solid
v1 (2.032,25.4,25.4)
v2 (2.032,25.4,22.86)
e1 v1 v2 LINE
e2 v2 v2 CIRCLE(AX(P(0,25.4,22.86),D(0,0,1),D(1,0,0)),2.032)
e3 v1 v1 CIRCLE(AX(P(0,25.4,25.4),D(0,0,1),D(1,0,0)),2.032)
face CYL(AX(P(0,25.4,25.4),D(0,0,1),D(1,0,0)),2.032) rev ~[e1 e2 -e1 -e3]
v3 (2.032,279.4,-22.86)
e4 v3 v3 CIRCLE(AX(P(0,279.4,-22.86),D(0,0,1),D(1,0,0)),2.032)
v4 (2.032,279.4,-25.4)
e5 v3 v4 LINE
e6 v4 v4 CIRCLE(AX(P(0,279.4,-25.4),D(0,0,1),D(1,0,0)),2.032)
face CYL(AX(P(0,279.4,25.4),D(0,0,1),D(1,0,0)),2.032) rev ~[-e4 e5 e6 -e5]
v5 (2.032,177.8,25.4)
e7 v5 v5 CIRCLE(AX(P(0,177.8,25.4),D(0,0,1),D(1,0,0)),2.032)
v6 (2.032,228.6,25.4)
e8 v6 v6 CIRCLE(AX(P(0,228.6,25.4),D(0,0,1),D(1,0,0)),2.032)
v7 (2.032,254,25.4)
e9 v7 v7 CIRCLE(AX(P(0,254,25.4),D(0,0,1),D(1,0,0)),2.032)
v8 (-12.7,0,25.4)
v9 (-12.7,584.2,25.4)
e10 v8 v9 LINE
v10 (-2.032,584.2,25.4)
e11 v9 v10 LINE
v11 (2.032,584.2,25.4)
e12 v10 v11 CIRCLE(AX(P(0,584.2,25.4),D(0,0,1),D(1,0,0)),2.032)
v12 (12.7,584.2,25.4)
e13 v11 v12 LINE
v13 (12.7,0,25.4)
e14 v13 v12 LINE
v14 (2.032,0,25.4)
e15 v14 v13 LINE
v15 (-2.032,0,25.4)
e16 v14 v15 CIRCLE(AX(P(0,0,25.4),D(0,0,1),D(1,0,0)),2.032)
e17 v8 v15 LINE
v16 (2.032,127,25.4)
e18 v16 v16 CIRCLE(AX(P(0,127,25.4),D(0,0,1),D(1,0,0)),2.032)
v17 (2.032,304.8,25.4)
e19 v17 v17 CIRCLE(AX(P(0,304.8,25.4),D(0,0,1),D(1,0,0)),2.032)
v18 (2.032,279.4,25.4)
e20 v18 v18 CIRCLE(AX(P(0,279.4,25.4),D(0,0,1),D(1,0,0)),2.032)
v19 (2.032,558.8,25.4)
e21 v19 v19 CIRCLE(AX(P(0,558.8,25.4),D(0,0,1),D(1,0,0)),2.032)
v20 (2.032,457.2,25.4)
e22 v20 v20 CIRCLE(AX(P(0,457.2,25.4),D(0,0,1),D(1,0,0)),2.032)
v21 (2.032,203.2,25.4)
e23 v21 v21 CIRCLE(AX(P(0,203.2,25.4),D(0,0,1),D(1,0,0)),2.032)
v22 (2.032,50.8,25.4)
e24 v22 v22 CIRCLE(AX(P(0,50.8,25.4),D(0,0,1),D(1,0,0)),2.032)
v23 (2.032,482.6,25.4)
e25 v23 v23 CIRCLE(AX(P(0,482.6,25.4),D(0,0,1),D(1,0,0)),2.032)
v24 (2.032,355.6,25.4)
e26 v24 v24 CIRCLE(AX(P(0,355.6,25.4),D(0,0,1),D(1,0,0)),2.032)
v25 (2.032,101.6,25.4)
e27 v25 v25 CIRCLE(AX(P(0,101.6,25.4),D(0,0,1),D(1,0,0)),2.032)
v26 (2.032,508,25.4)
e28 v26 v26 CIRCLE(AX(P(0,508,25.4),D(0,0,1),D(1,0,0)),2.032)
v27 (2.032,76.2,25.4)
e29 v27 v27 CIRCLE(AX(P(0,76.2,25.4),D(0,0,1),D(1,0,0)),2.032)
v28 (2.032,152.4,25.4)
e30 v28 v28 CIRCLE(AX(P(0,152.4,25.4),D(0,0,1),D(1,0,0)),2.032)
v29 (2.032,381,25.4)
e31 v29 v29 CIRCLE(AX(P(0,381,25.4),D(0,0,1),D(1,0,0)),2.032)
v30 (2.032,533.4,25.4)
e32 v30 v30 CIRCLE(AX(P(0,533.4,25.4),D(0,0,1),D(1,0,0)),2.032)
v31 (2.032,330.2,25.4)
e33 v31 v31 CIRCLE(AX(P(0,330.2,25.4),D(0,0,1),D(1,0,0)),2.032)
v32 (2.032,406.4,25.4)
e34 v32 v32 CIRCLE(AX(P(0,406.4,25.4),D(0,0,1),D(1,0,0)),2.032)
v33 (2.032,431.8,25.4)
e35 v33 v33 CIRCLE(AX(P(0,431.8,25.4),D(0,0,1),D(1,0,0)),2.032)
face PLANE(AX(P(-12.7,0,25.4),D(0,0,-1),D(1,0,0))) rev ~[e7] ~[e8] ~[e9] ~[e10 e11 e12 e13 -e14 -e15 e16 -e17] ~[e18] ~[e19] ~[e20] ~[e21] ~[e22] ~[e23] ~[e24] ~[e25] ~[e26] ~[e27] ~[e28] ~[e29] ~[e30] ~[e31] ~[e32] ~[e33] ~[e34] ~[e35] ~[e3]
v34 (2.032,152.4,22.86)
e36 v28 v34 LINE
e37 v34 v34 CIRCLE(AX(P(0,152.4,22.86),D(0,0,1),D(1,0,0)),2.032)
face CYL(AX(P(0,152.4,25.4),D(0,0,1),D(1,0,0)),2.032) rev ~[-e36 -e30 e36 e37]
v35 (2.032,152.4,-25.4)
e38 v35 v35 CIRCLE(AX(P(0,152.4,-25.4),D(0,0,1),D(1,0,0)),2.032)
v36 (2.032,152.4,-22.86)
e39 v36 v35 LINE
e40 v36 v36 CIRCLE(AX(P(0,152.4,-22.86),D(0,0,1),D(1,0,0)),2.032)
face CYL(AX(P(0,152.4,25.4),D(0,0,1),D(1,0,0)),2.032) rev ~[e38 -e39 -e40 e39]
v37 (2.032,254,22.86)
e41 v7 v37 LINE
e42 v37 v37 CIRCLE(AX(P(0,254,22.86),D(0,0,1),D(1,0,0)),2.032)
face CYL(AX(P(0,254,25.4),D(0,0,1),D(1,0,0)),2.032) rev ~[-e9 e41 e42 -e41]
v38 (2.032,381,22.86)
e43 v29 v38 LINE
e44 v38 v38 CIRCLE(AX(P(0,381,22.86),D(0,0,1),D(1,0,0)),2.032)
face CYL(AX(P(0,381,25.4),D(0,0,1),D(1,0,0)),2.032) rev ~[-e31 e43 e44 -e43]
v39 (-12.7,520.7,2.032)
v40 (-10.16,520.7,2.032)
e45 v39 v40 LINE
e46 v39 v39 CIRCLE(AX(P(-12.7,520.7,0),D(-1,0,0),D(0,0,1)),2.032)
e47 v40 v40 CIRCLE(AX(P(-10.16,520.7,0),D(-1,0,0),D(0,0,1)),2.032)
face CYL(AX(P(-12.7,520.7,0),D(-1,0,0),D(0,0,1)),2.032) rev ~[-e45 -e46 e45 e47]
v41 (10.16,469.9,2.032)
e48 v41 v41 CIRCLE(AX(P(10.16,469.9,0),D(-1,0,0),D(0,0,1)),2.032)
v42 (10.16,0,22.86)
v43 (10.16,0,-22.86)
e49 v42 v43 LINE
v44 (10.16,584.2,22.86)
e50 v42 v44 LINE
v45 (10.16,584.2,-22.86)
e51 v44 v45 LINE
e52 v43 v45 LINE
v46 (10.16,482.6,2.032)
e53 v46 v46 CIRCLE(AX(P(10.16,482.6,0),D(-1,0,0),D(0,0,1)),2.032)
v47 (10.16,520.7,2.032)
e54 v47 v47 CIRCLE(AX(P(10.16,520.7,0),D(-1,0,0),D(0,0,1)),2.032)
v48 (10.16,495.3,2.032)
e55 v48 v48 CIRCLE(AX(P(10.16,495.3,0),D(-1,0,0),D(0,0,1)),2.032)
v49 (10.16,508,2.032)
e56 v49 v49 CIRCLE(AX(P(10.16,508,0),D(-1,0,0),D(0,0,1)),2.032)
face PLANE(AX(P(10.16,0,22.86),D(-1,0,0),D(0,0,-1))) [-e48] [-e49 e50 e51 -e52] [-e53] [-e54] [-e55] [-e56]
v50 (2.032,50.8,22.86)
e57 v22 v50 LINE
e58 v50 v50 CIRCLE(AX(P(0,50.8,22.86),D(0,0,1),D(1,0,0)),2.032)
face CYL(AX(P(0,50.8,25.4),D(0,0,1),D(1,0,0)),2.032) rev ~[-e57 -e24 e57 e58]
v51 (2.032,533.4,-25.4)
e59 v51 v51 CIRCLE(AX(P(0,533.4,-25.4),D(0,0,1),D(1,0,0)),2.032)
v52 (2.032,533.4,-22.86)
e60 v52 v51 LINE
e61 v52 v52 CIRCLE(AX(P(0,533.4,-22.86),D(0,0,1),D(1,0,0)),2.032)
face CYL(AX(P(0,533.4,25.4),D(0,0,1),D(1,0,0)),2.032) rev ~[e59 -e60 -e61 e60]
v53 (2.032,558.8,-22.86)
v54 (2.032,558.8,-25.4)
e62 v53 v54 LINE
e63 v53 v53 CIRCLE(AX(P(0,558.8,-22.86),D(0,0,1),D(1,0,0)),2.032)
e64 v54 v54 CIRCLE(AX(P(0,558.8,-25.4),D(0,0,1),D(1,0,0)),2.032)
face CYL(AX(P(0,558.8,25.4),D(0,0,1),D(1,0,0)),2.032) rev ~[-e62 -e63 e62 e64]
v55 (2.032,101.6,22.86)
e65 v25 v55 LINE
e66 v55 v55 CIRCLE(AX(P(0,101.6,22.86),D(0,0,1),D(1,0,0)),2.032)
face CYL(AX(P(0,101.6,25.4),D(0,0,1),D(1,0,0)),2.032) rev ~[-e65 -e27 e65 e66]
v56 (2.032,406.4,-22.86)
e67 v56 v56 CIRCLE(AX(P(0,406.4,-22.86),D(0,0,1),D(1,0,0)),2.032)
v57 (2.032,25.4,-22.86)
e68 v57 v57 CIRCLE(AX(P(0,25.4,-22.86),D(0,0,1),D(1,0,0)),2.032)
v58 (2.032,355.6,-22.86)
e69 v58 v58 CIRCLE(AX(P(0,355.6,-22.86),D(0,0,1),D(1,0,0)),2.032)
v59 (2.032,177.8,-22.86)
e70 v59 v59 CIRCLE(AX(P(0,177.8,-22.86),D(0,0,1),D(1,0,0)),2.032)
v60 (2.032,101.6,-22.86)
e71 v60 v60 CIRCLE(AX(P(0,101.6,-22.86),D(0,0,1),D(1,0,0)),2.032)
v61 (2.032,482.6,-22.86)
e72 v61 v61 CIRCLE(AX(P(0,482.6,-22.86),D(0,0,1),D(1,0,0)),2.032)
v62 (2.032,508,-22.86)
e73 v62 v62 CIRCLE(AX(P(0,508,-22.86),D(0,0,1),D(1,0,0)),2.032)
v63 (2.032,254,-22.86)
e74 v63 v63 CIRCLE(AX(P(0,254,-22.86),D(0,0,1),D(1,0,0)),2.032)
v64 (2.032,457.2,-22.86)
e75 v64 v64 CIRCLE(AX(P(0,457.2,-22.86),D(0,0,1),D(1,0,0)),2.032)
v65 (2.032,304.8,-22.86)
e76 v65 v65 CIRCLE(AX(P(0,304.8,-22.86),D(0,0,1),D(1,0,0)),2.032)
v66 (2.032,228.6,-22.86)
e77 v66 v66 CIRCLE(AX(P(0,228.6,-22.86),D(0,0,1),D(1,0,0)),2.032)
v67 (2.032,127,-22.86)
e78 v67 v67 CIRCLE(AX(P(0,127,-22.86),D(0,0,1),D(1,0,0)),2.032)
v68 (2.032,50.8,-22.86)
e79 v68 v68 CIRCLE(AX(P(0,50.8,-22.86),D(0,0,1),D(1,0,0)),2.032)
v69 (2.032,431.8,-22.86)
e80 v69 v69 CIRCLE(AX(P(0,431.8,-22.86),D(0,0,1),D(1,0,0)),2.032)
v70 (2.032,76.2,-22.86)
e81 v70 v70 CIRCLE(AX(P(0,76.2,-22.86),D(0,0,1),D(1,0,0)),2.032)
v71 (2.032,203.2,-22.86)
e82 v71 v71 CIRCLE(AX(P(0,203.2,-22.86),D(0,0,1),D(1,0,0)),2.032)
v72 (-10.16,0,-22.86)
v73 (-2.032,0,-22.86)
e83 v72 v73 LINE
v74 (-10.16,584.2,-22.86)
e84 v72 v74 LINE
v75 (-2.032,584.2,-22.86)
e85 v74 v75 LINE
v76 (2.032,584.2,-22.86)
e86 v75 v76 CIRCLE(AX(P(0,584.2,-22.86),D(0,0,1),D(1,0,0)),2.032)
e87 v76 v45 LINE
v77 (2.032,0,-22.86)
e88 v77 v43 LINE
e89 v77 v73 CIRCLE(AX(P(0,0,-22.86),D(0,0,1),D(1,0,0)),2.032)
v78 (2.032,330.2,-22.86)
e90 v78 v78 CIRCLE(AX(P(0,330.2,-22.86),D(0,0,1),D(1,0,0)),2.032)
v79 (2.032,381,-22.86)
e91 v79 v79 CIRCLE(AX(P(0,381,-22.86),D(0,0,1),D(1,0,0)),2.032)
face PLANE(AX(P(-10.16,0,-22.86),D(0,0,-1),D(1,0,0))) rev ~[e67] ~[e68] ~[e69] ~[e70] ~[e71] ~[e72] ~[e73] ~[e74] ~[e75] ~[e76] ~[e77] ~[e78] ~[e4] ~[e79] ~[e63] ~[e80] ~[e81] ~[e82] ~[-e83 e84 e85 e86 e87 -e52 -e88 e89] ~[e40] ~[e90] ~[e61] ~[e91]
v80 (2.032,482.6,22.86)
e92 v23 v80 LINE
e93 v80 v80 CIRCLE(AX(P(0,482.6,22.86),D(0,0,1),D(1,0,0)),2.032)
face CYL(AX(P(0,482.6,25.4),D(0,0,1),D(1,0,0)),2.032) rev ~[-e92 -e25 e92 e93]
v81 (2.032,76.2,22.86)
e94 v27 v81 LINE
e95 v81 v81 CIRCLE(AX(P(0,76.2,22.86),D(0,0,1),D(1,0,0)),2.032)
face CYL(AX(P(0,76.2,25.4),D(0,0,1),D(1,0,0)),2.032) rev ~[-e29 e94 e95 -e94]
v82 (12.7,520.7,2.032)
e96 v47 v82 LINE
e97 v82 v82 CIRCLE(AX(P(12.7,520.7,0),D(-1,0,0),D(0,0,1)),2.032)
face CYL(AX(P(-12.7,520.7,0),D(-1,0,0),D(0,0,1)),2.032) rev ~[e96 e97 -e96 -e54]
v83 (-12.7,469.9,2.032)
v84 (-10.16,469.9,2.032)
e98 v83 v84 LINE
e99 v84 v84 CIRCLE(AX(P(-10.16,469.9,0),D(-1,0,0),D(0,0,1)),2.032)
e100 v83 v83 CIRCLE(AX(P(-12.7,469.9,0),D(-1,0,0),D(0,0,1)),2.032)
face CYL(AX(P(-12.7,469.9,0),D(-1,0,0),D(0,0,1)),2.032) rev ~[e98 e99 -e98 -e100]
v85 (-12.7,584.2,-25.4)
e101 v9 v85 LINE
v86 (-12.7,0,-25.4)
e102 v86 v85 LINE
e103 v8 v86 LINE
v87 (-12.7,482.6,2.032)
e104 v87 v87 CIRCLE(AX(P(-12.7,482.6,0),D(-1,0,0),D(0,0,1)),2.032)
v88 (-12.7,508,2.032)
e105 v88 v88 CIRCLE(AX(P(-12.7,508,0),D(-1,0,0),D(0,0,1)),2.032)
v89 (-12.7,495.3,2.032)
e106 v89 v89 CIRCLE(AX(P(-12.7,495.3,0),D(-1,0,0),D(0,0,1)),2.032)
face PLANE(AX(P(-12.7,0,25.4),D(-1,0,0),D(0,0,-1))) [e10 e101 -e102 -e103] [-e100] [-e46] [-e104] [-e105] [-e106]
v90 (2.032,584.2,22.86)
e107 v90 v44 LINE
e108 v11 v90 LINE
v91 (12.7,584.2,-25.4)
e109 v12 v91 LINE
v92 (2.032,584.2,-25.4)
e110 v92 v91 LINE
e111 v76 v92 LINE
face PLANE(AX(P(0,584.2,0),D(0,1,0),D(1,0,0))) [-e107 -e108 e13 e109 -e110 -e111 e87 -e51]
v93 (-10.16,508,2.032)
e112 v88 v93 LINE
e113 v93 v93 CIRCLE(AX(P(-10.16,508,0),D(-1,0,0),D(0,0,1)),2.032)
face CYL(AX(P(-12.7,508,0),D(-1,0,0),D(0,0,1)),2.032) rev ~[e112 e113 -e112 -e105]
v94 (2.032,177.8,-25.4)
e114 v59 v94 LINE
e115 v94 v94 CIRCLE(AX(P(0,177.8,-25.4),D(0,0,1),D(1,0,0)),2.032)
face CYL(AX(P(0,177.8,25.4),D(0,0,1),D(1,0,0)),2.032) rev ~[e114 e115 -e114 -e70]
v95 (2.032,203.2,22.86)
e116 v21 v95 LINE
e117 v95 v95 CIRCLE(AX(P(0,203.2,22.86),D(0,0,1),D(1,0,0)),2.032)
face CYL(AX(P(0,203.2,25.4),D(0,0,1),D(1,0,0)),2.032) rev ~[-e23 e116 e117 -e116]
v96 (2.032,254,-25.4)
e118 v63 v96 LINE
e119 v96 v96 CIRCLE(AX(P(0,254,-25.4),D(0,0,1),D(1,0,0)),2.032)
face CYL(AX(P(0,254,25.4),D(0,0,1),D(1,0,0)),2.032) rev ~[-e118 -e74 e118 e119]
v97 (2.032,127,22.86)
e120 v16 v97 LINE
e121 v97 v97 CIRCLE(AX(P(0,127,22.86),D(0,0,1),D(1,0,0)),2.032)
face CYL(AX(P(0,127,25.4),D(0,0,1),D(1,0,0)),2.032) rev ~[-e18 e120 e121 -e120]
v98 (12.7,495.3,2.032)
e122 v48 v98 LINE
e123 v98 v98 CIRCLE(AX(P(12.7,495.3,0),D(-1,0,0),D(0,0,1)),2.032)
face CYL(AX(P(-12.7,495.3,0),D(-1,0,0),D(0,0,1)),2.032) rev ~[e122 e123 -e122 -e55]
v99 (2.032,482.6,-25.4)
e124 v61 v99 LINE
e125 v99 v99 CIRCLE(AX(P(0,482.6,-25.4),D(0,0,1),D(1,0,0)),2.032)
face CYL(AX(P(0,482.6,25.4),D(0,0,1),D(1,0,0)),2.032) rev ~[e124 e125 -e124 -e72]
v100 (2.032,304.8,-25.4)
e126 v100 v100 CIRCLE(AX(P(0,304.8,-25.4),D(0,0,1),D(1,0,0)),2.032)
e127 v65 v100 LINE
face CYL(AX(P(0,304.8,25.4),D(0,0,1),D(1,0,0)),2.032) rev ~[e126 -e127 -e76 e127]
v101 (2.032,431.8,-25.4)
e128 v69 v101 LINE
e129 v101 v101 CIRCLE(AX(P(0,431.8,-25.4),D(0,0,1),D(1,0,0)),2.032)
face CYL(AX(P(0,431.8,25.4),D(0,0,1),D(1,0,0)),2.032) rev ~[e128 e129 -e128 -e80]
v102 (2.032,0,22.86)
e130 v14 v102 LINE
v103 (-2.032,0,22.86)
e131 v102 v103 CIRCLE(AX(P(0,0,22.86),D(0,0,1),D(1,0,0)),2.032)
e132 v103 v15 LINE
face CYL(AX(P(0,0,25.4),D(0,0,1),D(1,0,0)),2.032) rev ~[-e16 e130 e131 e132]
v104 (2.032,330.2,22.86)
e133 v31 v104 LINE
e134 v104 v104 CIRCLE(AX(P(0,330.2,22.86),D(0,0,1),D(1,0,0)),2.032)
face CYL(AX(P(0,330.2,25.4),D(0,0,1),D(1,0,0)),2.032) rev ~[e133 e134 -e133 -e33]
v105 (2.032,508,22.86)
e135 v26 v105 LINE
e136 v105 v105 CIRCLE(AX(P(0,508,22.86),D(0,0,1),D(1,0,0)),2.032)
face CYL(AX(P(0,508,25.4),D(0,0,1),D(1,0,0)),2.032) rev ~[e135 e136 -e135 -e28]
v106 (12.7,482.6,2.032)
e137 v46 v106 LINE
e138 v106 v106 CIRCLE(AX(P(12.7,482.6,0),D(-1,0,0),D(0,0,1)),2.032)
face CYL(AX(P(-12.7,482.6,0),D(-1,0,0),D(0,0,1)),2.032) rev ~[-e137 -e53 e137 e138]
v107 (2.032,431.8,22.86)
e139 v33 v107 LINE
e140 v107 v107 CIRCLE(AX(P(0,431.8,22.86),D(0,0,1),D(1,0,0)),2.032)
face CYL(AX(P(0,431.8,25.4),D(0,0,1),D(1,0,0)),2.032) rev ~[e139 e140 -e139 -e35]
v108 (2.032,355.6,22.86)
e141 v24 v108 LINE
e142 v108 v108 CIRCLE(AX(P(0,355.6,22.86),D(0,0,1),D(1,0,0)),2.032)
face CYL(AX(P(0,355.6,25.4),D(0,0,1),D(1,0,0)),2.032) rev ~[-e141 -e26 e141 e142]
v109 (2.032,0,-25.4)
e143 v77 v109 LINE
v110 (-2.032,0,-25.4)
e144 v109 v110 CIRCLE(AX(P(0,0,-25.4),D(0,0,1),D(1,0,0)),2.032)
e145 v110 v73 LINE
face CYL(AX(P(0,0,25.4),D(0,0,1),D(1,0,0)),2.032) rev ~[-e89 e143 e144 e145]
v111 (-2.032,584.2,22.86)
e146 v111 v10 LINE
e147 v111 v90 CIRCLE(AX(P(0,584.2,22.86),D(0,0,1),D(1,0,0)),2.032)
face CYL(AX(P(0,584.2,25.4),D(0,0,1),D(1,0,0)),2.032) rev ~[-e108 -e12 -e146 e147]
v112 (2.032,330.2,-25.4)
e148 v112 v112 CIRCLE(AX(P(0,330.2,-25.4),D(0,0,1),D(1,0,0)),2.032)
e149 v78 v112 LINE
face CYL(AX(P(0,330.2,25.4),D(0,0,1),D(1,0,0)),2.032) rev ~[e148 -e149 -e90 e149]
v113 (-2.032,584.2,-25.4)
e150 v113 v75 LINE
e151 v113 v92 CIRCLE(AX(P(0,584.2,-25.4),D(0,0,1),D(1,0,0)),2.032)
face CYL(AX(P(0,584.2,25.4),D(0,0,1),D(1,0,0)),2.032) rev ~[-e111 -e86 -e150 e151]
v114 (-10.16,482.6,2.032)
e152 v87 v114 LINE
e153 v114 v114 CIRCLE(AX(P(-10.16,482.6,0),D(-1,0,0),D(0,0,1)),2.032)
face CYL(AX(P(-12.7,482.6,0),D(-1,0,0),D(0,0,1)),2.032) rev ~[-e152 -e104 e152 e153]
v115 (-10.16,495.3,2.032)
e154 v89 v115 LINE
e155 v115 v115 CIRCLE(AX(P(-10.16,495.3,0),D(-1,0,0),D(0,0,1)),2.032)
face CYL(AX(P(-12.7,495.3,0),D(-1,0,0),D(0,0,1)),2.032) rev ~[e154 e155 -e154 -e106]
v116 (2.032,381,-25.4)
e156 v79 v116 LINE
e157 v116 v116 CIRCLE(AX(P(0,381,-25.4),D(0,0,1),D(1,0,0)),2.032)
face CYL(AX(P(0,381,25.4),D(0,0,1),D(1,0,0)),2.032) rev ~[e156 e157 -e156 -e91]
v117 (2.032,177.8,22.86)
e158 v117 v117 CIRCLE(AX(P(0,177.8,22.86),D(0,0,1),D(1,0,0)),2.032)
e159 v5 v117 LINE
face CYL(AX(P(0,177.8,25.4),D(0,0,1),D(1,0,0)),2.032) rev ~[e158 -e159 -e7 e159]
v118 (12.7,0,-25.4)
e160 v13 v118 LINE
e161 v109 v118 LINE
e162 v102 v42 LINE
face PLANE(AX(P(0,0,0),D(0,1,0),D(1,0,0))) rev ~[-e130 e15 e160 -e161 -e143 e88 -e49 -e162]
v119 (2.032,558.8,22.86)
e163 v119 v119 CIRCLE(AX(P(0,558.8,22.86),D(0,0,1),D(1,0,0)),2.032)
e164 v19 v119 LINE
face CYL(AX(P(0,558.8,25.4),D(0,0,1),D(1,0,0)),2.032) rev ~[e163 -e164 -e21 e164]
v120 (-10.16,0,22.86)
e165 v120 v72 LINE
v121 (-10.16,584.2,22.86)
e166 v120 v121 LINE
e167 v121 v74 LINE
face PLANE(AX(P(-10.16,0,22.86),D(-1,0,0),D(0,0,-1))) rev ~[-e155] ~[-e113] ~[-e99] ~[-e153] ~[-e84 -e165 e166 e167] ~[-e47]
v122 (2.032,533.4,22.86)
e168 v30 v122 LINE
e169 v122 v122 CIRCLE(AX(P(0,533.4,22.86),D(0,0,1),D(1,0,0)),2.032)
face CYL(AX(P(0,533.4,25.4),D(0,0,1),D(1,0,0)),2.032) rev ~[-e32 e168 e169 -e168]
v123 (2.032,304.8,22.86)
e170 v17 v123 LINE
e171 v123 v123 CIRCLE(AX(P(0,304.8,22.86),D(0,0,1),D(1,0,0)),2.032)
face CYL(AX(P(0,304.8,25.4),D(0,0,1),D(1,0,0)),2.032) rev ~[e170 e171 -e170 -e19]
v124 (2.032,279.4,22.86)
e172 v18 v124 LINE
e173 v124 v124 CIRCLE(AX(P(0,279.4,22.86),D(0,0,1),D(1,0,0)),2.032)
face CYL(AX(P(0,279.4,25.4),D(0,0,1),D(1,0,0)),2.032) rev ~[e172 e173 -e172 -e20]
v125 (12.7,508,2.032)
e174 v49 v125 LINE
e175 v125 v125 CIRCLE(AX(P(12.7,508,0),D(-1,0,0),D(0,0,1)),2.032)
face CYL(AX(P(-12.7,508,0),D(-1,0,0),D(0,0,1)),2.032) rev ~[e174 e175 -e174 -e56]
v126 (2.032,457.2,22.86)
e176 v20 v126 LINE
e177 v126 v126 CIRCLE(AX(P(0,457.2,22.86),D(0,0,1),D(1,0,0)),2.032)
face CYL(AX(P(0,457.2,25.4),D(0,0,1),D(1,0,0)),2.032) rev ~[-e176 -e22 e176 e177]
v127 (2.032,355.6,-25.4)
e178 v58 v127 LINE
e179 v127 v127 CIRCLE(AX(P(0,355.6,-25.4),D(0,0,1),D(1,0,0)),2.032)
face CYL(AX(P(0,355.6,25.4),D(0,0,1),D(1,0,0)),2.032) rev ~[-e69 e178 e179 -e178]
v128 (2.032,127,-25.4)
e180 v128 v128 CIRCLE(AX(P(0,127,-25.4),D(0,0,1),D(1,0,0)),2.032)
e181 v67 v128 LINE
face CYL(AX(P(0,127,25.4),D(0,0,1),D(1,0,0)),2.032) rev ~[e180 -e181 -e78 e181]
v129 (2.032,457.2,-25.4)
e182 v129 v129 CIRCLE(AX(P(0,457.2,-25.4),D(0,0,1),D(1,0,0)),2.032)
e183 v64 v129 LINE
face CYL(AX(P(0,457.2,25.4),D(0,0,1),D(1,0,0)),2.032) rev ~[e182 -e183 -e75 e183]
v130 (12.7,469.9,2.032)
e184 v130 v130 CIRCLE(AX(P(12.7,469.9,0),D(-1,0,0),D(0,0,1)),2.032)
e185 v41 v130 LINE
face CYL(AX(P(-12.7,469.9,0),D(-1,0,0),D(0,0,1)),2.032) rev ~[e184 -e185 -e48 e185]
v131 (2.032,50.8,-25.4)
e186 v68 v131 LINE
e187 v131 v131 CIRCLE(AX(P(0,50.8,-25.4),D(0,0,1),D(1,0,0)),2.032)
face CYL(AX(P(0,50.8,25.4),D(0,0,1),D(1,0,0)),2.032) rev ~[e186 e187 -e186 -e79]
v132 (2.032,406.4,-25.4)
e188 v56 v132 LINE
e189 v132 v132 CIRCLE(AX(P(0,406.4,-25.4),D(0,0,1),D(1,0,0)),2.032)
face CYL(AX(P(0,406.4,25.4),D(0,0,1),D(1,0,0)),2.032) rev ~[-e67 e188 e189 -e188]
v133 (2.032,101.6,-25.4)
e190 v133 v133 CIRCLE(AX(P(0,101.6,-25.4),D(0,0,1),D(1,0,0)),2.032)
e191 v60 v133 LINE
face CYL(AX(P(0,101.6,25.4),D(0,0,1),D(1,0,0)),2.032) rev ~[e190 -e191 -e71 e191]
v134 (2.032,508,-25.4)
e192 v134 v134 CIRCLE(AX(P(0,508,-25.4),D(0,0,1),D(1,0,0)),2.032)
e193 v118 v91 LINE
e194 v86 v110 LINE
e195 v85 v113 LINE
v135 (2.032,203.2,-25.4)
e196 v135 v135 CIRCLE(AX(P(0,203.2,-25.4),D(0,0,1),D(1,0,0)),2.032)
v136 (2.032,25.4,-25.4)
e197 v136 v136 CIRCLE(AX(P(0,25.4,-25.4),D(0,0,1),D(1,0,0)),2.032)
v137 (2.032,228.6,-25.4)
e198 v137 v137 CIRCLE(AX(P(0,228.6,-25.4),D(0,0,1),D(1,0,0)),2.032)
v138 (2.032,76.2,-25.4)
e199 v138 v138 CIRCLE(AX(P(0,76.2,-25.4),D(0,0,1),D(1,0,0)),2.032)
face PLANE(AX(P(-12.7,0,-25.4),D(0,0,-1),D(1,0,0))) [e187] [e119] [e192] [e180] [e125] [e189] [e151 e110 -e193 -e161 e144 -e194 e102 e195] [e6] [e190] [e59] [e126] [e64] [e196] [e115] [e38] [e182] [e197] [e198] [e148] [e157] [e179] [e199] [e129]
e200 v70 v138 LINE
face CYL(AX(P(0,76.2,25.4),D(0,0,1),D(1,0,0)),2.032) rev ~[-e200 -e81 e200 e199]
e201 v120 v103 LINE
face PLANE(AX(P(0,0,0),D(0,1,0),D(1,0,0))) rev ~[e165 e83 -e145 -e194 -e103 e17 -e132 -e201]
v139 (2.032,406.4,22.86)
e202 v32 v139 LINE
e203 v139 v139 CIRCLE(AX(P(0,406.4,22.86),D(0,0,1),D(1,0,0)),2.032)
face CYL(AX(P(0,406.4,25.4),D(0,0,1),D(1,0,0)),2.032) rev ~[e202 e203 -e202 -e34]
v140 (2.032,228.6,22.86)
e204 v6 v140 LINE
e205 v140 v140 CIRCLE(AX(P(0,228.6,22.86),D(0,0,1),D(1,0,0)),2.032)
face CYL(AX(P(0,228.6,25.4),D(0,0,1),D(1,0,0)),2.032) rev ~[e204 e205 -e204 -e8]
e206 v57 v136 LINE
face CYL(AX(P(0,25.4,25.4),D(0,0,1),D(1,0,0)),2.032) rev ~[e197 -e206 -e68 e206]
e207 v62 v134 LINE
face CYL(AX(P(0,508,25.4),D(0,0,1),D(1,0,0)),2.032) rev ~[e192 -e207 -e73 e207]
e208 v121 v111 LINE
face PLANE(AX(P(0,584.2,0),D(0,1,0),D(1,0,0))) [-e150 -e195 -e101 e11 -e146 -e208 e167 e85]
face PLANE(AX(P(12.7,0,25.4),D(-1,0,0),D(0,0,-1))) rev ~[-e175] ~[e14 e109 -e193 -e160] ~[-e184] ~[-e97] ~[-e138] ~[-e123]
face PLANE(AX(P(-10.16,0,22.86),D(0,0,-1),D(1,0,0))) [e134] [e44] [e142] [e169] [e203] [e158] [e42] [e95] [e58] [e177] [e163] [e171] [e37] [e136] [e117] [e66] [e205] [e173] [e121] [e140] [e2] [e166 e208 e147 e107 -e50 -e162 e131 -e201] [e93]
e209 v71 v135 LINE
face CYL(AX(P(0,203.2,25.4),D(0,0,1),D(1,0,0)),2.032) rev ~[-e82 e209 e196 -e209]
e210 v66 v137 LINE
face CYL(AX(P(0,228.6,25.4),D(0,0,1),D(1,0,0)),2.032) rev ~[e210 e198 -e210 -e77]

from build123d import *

# Parameters (mm, degrees)
SKETCH1_W           = 25.4
SKETCH1_H           = 50.8
SKETCH1_W_2         = 20.32
SKETCH1_H_2         = 45.72
BOSS_EXTRUDE1_DEPTH = 584.2
SKETCH2_R           = 2.032
CUT_EXTRUDE1_DEPTH  = 587.542044529
SKETCH3_R           = 2.032
CUT_EXTRUDE2_DEPTH  = 586.303305988


with BuildPart() as part:
    # Sketch1 → Boss-Extrude1 (new body)
    with BuildSketch(Plane(origin=(0, 0, 0), x_dir=(1, 0, 0), z_dir=(0, 1, 0))):
        Rectangle(SKETCH1_W, SKETCH1_H)
        Rectangle(SKETCH1_W_2, SKETCH1_H_2, mode=Mode.SUBTRACT)
    extrude(amount=BOSS_EXTRUDE1_DEPTH)

    # Sketch2 → Cut-Extrude1 (cut, through all)
    with BuildSketch(Plane.XY.offset(25.4)):
        Circle(SKETCH2_R)
        with Locations((0, 25.4)):
            Circle(SKETCH2_R)
        with Locations((0, 50.8)):
            Circle(SKETCH2_R)
        with Locations((0, 76.2)):
            Circle(SKETCH2_R)
        with Locations((0, 101.6)):
            Circle(SKETCH2_R)
        with Locations((0, 127)):
            Circle(SKETCH2_R)
        with Locations((0, 152.4)):
            Circle(SKETCH2_R)
        with Locations((0, 177.8)):
            Circle(SKETCH2_R)
        with Locations((0, 203.2)):
            Circle(SKETCH2_R)
        with Locations((0, 228.6)):
            Circle(SKETCH2_R)
        with Locations((0, 254)):
            Circle(SKETCH2_R)
        with Locations((0, 279.4)):
            Circle(SKETCH2_R)
        with Locations((0, 304.8)):
            Circle(SKETCH2_R)
        with Locations((0, 330.2)):
            Circle(SKETCH2_R)
        with Locations((0, 355.6)):
            Circle(SKETCH2_R)
        with Locations((0, 381)):
            Circle(SKETCH2_R)
        with Locations((0, 406.4)):
            Circle(SKETCH2_R)
        with Locations((0, 431.8)):
            Circle(SKETCH2_R)
        with Locations((0, 457.2)):
            Circle(SKETCH2_R)
        with Locations((0, 482.6)):
            Circle(SKETCH2_R)
        with Locations((0, 508)):
            Circle(SKETCH2_R)
        with Locations((0, 533.4)):
            Circle(SKETCH2_R)
        with Locations((0, 558.8)):
            Circle(SKETCH2_R)
        with Locations((0, 584.2)):
            Circle(SKETCH2_R)
    extrude(amount=-CUT_EXTRUDE1_DEPTH, mode=Mode.SUBTRACT)

    # Sketch3 → Cut-Extrude2 (cut, through all)
    with BuildSketch(Plane.ZY.offset(12.7)):
        with Locations((0, 520.7)):
            Circle(SKETCH3_R)
        with Locations((0, 508)):
            Circle(SKETCH3_R)
        with Locations((0, 495.3)):
            Circle(SKETCH3_R)
        with Locations((0, 482.6)):
            Circle(SKETCH3_R)
        with Locations((0, 469.9)):
            Circle(SKETCH3_R)
    extrude(amount=-CUT_EXTRUDE2_DEPTH, mode=Mode.SUBTRACT)


solid = part.part
